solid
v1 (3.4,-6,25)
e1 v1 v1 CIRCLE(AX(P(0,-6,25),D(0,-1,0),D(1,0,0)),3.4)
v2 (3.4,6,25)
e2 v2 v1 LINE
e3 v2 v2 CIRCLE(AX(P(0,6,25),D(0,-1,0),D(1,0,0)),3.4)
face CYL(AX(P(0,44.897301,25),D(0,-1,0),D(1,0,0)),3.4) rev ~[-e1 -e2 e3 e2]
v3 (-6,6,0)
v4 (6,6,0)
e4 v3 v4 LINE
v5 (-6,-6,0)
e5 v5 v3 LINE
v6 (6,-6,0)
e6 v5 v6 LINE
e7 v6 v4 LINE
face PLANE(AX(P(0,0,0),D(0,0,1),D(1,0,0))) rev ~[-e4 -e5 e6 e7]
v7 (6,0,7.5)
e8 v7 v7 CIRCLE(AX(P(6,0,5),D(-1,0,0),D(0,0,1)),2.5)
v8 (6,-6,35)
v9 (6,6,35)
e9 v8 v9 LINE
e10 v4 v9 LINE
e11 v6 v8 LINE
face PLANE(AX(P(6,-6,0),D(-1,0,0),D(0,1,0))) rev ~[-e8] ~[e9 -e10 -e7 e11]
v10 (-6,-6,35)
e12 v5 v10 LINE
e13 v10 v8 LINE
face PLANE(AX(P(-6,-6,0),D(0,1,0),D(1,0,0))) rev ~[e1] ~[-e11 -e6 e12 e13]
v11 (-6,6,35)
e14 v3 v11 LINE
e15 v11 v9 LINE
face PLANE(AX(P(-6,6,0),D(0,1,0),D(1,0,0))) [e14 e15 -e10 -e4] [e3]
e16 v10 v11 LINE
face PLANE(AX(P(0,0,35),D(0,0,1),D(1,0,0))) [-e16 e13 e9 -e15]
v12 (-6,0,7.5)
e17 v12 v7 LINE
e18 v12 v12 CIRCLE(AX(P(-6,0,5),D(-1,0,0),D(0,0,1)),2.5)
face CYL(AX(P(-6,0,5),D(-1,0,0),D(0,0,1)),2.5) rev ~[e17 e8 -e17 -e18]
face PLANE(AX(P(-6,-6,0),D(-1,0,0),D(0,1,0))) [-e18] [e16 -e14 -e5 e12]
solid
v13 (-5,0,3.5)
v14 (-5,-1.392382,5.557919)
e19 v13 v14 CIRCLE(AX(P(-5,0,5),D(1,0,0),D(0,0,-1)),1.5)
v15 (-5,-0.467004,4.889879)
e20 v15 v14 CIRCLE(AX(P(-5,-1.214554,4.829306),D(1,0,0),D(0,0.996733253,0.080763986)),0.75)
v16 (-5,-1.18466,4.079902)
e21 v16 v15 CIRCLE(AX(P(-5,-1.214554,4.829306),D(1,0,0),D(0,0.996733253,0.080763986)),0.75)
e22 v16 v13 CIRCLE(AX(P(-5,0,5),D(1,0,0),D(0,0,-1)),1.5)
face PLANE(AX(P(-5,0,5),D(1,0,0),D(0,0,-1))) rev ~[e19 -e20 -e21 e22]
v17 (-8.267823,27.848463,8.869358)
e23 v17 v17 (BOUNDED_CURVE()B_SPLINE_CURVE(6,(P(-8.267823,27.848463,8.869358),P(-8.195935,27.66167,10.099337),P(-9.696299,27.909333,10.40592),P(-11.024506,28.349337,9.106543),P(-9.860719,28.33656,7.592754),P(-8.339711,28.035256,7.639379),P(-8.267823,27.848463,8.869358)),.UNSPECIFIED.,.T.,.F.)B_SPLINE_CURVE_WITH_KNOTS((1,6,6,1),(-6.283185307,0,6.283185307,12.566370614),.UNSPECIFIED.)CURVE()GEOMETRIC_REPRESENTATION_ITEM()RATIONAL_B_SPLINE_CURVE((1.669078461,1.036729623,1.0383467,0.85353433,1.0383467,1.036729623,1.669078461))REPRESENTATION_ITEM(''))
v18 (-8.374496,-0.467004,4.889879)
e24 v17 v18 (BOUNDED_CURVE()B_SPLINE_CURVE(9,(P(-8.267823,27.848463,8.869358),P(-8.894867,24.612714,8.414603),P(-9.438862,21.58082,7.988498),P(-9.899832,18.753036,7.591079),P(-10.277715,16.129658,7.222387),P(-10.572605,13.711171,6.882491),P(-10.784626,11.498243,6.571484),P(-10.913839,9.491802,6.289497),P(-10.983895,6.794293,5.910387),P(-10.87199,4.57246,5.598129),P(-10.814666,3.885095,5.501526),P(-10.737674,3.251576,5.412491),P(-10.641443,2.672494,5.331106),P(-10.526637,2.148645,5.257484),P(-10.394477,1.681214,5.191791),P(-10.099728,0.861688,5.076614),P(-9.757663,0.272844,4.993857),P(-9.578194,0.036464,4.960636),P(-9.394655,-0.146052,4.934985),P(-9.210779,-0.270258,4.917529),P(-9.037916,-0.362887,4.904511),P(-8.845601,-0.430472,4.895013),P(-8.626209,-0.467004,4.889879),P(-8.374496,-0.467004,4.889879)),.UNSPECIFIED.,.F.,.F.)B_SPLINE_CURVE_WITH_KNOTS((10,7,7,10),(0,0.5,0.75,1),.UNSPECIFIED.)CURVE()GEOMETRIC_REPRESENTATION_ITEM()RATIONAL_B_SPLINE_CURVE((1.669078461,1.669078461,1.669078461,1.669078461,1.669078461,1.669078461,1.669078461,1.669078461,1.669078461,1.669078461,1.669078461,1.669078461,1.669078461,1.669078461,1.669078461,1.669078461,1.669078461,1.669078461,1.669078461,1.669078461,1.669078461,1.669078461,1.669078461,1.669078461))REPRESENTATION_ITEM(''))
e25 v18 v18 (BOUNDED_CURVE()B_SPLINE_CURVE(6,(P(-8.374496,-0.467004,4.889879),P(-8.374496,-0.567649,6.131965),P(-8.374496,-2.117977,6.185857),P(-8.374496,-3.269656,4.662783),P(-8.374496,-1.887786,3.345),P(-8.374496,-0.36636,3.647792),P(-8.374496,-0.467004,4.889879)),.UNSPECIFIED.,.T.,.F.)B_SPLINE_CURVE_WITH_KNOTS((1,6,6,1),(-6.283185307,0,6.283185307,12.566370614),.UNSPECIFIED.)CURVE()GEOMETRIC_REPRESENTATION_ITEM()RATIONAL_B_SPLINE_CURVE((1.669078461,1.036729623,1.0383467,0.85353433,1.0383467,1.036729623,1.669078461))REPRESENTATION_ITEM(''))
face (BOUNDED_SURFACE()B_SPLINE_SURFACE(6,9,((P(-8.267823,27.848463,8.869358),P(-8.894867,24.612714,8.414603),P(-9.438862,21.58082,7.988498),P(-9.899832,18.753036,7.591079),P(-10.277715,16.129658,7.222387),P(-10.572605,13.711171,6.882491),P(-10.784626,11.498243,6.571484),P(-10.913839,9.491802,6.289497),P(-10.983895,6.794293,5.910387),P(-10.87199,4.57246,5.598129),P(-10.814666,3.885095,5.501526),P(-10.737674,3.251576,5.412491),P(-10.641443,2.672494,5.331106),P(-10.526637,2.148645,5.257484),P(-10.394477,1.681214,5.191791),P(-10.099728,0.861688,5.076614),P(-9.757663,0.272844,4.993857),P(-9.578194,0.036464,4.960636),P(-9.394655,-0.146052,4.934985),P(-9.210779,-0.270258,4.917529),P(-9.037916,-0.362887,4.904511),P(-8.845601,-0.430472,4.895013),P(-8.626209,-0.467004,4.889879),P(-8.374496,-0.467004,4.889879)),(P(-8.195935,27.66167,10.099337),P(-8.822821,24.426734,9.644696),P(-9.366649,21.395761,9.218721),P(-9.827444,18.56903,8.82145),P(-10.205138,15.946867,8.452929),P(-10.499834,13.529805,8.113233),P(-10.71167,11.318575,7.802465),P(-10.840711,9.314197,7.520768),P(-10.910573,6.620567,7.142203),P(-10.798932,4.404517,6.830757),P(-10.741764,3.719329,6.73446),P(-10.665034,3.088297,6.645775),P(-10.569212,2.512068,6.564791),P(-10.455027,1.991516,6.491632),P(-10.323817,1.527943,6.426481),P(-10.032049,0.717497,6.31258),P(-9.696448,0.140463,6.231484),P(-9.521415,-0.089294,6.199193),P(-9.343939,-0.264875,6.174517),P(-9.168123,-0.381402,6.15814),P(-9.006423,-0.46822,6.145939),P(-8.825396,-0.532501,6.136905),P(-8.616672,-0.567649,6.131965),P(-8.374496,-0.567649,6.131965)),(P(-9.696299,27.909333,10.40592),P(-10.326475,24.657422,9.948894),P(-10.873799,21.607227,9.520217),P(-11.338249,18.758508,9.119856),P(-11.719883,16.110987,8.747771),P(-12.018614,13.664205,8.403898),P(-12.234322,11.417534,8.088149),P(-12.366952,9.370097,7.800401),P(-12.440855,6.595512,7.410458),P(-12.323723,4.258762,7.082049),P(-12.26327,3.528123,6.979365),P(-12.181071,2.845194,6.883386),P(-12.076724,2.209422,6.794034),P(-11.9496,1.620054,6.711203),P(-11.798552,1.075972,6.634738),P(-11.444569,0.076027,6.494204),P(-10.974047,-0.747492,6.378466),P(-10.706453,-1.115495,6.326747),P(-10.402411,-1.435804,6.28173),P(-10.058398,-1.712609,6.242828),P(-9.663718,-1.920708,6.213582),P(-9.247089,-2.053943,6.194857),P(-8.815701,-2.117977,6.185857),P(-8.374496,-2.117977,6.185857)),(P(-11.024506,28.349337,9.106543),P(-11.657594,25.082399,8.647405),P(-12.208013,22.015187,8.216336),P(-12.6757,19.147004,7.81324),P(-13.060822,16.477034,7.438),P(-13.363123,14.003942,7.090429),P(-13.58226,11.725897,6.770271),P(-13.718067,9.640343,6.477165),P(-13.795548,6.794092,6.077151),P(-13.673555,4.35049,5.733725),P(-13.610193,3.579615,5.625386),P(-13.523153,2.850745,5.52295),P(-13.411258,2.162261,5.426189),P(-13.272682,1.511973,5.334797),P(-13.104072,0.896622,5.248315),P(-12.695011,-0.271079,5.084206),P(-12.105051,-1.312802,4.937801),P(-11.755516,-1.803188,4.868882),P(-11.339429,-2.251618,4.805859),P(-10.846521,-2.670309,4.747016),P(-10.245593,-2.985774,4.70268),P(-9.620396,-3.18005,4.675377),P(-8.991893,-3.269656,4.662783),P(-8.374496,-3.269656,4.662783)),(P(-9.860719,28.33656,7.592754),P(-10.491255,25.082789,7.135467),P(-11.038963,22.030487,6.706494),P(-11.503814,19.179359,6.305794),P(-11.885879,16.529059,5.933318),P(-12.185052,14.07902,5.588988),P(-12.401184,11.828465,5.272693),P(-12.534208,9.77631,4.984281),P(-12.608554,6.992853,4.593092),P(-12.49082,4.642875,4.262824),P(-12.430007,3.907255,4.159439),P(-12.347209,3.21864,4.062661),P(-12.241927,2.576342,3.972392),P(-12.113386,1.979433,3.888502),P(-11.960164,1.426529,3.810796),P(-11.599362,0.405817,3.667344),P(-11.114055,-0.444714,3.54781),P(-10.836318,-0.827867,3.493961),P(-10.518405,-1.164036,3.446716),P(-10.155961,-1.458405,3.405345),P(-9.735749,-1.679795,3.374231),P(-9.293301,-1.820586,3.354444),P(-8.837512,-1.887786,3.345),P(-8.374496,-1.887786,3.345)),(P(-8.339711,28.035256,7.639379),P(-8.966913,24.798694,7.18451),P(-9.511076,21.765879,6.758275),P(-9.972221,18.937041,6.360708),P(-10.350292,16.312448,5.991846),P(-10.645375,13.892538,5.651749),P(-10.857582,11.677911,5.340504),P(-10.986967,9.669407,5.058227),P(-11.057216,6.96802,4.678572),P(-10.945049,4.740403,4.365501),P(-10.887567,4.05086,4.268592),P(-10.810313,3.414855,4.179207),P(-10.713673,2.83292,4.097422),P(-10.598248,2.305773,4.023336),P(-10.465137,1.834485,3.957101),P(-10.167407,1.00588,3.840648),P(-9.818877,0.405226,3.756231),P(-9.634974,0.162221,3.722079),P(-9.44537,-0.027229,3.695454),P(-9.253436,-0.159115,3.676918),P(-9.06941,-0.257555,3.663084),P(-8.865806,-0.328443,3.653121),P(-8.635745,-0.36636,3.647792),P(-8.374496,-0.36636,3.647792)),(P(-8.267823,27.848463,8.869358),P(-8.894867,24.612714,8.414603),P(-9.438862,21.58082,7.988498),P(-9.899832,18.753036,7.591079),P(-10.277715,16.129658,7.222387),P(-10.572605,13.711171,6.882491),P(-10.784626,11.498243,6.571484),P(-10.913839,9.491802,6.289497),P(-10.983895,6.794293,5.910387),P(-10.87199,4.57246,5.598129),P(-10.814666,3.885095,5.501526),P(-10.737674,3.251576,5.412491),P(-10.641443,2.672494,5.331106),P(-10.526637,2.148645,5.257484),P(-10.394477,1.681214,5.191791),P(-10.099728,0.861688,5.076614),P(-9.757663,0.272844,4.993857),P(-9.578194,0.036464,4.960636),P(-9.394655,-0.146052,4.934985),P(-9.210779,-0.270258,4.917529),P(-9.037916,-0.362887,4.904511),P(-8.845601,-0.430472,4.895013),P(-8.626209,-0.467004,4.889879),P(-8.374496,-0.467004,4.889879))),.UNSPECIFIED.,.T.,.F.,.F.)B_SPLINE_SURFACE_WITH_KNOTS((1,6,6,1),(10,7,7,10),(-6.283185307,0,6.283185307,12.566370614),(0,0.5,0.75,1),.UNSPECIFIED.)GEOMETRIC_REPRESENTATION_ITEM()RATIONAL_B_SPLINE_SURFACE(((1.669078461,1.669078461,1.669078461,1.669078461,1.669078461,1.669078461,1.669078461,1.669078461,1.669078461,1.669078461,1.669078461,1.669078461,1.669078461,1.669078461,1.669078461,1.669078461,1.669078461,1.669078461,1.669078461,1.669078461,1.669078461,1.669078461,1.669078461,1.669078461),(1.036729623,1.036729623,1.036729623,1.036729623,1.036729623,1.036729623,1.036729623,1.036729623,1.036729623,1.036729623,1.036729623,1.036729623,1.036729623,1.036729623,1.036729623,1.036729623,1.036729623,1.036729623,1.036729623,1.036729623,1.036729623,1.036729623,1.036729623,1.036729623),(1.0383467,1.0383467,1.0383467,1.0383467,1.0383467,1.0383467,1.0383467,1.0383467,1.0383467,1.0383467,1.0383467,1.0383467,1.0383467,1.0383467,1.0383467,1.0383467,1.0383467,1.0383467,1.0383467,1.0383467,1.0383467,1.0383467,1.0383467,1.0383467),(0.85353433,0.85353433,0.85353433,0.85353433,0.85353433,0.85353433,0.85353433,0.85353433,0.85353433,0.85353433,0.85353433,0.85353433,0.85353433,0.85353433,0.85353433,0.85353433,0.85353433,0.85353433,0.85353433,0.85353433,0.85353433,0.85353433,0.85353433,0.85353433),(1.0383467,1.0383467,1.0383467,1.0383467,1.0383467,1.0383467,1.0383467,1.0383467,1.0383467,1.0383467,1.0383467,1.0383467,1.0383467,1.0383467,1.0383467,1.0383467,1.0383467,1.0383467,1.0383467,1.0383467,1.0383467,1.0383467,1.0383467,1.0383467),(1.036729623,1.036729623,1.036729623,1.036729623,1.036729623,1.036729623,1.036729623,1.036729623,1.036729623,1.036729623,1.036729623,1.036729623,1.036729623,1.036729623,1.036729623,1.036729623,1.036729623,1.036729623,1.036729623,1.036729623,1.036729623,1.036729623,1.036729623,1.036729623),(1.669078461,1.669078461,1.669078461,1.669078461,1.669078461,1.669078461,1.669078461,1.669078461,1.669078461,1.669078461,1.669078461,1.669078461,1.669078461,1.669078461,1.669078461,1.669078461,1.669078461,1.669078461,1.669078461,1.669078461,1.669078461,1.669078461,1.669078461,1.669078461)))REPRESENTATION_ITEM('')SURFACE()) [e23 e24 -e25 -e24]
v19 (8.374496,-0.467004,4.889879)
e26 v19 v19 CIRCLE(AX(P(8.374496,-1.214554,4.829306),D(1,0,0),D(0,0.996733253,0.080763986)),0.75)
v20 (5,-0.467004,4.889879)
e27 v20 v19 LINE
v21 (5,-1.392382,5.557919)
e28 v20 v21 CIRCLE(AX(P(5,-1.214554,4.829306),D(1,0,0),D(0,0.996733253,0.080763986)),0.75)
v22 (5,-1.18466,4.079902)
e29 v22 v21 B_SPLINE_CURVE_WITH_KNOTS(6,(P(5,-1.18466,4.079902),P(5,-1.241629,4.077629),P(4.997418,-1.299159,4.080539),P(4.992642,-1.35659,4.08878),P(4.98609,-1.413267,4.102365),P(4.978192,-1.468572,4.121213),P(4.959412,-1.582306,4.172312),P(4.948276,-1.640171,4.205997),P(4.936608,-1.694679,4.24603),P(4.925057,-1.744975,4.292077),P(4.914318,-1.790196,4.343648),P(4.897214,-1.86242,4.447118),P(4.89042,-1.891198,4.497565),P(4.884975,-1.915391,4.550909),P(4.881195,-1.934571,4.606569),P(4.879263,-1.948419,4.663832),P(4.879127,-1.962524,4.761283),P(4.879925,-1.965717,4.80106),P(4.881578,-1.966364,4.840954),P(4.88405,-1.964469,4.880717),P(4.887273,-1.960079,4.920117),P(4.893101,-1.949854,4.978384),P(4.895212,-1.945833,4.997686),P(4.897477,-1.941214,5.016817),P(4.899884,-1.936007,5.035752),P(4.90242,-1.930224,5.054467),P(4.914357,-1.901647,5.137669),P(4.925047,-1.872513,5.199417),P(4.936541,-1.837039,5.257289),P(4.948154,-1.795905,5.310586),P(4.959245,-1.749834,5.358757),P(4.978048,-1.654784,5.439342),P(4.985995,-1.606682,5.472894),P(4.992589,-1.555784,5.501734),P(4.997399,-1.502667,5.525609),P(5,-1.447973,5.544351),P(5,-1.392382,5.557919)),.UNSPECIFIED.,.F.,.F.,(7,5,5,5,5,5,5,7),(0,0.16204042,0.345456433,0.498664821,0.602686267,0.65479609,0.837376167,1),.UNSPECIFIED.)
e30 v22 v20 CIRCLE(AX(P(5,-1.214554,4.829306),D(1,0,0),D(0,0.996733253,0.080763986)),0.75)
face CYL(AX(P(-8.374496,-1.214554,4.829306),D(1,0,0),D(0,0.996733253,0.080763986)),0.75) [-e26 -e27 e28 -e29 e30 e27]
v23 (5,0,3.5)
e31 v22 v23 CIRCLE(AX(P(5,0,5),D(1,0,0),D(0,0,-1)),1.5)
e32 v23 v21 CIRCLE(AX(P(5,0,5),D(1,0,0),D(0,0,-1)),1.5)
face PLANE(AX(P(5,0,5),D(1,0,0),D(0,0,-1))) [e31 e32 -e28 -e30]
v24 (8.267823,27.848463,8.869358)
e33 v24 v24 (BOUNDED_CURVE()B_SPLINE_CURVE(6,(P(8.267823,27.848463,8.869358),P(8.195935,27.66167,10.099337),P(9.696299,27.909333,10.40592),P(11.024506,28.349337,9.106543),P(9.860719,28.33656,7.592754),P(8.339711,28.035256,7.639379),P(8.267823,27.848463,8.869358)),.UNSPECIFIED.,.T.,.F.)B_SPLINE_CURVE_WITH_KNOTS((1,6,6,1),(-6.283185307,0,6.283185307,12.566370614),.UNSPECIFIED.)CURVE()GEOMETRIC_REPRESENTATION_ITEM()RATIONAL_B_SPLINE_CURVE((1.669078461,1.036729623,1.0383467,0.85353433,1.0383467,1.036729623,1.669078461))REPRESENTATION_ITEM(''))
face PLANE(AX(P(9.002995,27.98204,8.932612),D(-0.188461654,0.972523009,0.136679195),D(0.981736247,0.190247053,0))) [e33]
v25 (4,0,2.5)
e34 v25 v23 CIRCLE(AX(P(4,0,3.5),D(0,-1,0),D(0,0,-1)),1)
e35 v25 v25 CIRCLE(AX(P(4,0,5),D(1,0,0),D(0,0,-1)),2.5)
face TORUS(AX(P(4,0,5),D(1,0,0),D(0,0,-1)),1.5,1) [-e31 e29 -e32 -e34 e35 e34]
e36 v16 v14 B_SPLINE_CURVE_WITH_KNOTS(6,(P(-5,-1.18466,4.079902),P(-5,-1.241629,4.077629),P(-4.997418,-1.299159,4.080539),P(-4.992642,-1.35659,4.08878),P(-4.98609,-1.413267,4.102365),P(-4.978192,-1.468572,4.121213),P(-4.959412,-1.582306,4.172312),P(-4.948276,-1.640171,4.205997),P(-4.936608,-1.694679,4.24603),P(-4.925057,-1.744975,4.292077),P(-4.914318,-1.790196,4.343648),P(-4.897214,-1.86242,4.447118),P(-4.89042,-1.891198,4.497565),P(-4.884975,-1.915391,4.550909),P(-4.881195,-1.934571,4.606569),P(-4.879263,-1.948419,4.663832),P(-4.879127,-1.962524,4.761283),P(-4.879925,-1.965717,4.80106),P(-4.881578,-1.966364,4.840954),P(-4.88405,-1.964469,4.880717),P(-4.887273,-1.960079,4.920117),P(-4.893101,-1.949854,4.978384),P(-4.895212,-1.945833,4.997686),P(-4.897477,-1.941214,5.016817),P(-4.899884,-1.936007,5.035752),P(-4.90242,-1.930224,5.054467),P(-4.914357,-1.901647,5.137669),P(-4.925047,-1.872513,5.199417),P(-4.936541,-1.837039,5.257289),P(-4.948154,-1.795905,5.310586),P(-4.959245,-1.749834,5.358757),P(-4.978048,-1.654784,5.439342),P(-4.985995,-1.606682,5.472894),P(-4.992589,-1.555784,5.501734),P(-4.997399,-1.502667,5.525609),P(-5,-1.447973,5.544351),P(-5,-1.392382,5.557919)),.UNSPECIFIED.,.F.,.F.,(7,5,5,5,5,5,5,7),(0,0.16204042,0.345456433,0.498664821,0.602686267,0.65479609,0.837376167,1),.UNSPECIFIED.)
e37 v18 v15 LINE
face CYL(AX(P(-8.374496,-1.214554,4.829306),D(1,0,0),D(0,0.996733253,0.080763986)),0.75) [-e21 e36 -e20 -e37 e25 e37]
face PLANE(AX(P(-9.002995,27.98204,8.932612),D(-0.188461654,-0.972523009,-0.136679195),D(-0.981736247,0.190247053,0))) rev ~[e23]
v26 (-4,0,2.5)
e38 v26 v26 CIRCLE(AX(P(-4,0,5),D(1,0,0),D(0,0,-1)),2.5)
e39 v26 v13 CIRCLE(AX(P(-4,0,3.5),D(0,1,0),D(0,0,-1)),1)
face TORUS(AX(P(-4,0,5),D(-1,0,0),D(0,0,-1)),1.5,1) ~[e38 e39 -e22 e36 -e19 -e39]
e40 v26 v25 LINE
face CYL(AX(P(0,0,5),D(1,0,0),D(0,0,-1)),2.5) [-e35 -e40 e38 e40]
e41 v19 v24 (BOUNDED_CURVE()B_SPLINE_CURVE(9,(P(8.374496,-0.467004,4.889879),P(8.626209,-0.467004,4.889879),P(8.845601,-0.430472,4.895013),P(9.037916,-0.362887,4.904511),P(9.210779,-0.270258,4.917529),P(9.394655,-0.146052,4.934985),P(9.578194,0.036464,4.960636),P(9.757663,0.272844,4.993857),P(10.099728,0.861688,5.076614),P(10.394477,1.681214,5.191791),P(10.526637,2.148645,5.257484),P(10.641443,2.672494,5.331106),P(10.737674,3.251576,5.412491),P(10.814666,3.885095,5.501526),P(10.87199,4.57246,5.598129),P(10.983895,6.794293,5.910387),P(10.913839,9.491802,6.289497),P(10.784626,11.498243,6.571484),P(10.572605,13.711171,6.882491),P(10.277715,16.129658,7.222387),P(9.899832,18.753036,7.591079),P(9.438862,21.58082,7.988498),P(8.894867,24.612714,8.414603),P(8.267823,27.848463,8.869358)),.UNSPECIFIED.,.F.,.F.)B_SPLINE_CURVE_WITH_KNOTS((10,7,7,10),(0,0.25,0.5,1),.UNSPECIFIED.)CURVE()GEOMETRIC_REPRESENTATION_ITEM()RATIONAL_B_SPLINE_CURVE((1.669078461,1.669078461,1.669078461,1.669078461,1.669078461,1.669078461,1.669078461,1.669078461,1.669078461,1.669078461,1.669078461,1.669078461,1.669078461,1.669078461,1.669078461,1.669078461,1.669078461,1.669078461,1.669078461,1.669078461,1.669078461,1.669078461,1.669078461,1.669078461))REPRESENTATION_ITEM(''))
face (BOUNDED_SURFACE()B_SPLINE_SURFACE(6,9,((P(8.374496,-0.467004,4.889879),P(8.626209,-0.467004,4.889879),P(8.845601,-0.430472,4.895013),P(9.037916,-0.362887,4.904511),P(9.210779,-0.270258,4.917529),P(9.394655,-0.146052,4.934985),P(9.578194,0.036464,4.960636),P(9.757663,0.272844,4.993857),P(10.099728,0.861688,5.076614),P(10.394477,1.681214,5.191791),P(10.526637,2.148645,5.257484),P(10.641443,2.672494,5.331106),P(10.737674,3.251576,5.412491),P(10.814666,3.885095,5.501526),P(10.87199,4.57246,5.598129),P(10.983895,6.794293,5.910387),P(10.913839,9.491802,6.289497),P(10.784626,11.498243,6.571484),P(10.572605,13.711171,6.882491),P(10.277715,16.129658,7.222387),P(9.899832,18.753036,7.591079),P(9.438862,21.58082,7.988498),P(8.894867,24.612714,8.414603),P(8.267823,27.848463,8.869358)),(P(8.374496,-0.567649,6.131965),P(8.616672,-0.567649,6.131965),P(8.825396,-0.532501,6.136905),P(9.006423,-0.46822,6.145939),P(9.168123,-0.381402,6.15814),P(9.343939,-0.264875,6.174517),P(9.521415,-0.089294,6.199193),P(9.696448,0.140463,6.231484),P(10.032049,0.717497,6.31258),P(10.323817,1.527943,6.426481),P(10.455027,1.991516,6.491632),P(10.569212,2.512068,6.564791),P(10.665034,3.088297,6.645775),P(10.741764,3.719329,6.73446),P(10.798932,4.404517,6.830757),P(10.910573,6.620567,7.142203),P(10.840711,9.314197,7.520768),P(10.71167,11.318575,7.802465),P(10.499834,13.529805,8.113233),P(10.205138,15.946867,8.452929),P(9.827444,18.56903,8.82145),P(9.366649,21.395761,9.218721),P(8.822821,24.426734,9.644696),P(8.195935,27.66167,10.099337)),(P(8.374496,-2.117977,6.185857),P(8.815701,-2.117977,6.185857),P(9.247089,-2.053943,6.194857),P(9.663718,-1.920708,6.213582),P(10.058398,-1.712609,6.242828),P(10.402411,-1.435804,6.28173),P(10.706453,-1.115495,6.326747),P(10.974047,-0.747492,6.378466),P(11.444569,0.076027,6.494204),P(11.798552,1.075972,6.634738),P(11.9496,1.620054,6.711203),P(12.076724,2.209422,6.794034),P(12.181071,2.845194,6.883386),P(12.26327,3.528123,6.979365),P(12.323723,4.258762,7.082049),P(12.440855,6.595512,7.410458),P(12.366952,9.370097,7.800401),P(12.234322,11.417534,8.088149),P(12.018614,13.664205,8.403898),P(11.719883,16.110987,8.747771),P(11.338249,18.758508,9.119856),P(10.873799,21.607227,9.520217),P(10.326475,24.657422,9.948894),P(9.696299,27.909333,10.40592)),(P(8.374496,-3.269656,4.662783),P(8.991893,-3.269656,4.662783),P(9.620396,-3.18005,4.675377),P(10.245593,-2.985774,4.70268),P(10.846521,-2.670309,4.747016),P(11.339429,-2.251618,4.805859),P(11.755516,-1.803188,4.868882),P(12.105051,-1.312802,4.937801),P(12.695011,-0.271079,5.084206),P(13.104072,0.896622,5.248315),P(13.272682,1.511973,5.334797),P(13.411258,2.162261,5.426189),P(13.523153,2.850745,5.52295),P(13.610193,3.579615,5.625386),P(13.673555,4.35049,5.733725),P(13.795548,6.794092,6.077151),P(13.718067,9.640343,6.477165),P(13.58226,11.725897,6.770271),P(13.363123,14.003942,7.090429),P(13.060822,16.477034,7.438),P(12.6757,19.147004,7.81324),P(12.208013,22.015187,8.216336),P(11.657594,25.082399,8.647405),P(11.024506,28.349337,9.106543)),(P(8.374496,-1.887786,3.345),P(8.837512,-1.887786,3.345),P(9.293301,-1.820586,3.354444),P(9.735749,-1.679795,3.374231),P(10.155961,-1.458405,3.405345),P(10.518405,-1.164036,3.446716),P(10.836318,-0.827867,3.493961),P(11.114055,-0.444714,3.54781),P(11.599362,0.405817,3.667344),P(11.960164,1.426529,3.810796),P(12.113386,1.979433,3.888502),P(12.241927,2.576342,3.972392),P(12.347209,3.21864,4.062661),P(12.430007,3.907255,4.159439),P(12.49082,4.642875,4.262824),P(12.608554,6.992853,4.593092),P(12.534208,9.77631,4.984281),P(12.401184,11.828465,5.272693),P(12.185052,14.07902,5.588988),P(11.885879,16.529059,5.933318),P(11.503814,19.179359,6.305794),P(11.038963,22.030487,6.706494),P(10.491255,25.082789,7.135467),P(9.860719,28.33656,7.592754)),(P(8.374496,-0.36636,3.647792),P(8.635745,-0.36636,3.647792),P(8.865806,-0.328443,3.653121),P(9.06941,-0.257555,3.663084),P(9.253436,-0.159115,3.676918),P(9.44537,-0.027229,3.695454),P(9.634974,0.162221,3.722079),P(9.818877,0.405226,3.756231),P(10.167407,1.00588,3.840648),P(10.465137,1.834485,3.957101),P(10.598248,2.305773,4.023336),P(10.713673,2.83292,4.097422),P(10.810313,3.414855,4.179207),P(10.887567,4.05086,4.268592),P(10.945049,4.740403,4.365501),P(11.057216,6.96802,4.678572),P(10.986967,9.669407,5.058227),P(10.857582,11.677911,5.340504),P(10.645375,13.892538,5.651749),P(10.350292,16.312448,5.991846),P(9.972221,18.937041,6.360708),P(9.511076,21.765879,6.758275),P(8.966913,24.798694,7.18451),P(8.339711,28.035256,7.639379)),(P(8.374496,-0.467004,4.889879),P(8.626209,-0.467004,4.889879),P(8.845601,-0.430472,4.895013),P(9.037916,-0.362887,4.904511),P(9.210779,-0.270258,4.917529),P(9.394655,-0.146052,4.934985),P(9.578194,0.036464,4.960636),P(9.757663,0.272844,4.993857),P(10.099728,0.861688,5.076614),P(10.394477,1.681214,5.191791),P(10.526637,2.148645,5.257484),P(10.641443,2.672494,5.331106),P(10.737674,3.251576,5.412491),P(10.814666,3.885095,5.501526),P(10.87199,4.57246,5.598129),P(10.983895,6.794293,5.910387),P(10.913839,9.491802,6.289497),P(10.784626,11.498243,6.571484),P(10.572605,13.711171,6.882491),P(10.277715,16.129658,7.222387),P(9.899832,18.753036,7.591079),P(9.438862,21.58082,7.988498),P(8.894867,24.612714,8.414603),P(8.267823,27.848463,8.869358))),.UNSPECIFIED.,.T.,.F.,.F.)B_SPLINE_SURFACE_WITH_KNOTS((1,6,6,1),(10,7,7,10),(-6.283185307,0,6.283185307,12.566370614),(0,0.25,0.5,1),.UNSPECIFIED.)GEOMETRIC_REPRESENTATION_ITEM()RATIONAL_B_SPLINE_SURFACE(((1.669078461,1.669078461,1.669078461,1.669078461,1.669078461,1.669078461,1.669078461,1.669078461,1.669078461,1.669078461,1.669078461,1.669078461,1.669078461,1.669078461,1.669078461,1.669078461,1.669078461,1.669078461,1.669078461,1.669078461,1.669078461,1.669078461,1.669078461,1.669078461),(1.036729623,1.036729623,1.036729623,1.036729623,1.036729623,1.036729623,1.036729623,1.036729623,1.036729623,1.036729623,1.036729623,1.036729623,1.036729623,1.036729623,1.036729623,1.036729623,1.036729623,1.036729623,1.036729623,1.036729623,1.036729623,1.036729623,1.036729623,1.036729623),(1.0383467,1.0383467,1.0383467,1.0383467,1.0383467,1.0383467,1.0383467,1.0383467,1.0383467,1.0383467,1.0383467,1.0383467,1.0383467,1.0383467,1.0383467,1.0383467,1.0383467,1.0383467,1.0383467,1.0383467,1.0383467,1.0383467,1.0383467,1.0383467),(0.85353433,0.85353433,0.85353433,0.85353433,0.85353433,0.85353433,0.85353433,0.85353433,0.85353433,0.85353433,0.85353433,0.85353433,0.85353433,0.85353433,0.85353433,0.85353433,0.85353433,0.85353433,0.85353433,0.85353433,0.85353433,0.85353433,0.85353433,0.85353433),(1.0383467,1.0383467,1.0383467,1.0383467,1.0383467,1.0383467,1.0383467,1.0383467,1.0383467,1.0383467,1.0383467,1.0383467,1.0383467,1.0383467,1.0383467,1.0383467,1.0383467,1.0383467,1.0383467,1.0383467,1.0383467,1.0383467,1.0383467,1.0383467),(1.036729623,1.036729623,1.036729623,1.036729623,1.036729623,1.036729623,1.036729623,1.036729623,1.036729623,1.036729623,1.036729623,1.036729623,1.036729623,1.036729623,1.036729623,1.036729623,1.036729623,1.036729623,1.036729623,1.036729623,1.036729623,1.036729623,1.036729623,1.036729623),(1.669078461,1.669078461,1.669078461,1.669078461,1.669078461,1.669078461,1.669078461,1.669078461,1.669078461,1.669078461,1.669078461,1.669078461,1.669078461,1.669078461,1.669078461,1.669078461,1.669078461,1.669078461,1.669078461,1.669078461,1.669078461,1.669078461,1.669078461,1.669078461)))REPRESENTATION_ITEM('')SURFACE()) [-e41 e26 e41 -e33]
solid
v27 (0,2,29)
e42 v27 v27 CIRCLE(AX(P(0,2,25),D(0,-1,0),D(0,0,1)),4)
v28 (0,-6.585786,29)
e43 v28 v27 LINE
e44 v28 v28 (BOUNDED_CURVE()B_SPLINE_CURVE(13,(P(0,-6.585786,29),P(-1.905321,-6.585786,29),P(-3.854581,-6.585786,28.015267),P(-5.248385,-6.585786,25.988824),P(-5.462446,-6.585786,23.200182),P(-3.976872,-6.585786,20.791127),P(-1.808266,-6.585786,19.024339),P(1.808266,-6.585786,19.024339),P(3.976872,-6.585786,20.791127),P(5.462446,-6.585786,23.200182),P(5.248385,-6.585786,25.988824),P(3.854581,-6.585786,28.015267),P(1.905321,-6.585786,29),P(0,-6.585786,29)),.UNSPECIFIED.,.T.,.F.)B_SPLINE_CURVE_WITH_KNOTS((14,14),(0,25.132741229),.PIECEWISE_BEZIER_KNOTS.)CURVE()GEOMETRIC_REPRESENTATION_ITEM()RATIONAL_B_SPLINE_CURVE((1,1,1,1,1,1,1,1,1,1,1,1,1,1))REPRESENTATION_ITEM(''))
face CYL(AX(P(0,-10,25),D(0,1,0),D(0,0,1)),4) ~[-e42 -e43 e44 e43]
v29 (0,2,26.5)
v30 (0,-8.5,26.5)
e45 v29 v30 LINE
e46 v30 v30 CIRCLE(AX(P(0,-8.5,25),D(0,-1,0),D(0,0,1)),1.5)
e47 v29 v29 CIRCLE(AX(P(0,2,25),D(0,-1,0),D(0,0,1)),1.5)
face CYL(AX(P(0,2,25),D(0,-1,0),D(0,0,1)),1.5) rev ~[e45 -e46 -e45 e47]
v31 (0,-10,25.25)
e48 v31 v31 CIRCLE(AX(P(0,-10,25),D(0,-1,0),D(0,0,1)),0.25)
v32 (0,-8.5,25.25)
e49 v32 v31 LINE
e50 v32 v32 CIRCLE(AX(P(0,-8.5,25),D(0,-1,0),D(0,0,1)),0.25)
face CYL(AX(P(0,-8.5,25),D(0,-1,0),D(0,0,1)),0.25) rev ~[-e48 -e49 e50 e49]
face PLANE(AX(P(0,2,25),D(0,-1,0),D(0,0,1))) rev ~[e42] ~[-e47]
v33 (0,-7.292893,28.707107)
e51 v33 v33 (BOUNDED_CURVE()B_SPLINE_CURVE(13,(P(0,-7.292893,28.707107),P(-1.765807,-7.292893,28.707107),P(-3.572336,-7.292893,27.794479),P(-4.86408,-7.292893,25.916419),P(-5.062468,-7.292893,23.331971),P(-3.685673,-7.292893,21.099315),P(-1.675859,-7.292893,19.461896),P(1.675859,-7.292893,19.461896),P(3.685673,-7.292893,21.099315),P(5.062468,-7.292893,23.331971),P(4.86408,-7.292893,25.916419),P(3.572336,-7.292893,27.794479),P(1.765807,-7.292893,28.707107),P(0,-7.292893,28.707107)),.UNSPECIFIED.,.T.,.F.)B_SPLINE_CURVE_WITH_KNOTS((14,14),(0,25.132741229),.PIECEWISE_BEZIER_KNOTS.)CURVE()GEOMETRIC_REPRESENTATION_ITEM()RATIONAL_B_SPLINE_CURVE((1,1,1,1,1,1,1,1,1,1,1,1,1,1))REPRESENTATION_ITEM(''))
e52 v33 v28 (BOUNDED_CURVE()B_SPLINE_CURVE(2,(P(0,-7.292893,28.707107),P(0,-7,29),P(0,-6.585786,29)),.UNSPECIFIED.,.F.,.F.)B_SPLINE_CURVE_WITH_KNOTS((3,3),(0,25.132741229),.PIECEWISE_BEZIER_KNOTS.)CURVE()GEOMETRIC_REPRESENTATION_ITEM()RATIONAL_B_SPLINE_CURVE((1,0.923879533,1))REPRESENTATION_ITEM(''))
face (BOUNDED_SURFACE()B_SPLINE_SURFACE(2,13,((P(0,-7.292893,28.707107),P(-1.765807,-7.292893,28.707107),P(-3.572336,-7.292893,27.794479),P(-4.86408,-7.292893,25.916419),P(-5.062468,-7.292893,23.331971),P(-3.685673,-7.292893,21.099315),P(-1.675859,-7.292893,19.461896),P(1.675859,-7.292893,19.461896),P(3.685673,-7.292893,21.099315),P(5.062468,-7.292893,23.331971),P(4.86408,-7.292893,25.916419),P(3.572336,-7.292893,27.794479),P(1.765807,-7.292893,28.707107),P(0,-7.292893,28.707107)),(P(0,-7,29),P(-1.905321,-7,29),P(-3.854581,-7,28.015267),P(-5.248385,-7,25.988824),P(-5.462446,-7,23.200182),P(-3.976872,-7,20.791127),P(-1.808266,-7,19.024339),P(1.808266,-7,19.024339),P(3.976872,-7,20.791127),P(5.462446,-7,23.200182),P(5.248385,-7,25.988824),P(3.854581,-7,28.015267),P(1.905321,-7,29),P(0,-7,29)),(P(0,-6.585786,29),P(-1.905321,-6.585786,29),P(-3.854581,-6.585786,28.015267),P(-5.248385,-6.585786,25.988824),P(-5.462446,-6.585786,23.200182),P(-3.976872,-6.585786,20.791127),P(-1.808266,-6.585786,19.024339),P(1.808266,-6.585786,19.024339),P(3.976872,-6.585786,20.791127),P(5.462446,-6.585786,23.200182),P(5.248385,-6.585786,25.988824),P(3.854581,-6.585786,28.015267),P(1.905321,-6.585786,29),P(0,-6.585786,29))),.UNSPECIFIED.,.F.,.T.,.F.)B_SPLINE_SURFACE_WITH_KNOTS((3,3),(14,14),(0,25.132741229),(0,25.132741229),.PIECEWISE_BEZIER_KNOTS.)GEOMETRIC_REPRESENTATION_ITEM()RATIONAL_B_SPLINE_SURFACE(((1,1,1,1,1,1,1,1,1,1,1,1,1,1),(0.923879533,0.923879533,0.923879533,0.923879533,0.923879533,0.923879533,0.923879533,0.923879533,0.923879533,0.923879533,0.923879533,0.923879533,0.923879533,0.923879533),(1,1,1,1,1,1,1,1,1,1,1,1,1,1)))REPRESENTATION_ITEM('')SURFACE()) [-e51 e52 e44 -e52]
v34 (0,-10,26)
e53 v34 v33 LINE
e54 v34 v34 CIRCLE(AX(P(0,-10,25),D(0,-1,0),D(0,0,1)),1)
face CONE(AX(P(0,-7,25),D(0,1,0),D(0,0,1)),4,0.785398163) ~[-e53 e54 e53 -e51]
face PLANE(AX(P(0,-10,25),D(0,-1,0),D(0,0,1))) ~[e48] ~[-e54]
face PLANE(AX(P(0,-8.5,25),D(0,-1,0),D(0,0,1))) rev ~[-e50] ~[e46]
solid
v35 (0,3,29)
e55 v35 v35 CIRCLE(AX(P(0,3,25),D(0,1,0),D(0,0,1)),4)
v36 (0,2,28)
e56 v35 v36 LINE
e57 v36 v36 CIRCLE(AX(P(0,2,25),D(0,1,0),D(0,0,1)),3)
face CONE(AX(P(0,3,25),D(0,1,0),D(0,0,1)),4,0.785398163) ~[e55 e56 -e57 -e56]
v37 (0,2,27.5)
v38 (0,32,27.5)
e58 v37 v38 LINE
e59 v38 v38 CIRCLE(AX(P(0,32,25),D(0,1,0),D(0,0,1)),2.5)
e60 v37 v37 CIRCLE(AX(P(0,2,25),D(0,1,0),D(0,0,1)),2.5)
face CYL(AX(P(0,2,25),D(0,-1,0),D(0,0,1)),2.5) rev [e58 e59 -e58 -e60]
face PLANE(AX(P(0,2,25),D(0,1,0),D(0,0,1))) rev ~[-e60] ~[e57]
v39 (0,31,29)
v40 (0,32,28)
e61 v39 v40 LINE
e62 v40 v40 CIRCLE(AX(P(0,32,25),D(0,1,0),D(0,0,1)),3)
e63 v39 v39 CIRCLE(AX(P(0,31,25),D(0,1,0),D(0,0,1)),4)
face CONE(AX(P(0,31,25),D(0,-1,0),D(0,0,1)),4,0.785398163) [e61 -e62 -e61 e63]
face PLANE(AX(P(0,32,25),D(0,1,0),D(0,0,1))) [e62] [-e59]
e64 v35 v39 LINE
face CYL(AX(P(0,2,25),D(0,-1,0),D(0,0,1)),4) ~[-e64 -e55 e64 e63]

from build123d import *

# Parameters (mm, degrees)
SKIZZE1_W                       = 12
SKIZZE1_H                       = 12
AUFSATZ_LINEAR_AUSTRAGEN1_DEPTH = 35
SKIZZE2_R                       = 2.5
SCHNITT_LINEAR_AUSTRAGEN1_DEPTH = 35
M8_GEWINDEBOHRUNG1_D            = 6.8
FASE1_SIZE                      = 3
VERRUNDUNG2_R                   = 1
SKIZZE8_R                       = 4
SKIZZE8_R_2                     = 2.5
AUFSATZ_LINEAR_AUSTRAGEN2_DEPTH = 30
FASE2_SIZE                      = 1
SKIZZE9_R                       = 2.5
AUFSATZ_LINEAR_AUSTRAGEN3_DEPTH = 5
VERRUNDUNG3_R                   = 1
SKIZZE11_R                      = 0.75


with BuildPart() as part:
    # Skizze1 → Aufsatz-Linear austragen1 (new body)
    with BuildSketch(Plane.XY):
        Rectangle(SKIZZE1_W, SKIZZE1_H)
    extrude(amount=AUFSATZ_LINEAR_AUSTRAGEN1_DEPTH)

    # Skizze2 → Schnitt-Linear austragen1 (cut)
    with BuildSketch(Plane.ZY.offset(6)):
        with Locations((5, 0)):
            Circle(SKIZZE2_R)
    extrude(amount=-SCHNITT_LINEAR_AUSTRAGEN1_DEPTH, mode=Mode.SUBTRACT)

    # M8 Gewindebohrung1 (through all)
    with Locations(Plane(origin=(0, 6, 0), x_dir=(-1, 0, 0), z_dir=(0, 1, 0))):
        with Locations((0, 25)):
            Hole(M8_GEWINDEBOHRUNG1_D / 2)


with BuildPart() as body_2:
    # Skizze7 → Rotation1 (revolve)
    with BuildSketch(Plane(origin=(0, 0, 0), x_dir=(0, 0, -1), z_dir=(1, 0, 0))):
        Polygon((-29, 2), (-26.5, 2), (-26.5, -8.5), (-25.25, -8.5), (-25.25, -10), (-29, -10), align=None)
    revolve(axis=Axis((0, 2, 25), (0, -1, 0)))

    # Fase1
    fase1_edges = [body_2.edges().sort_by_distance(p)[0] for p in [
        (0, -10, 21),
    ]]
    chamfer(fase1_edges, length=FASE1_SIZE)

    # Verrundung2
    verrundung2_edges = [body_2.edges().sort_by_distance(p)[0] for p in [
        (0, -7, 21),
    ]]
    fillet(verrundung2_edges, radius=VERRUNDUNG2_R)


with BuildPart() as body_3:
    # Skizze8 → Aufsatz-Linear austragen2 (new body)
    with BuildSketch(Plane(origin=(0, 2, 0), x_dir=(1, 0, 0), z_dir=(0, 1, 0))):
        with Locations((0, -25)):
            Circle(SKIZZE8_R)
        with Locations((0, -25)):
            Circle(SKIZZE8_R_2, mode=Mode.SUBTRACT)
    extrude(amount=AUFSATZ_LINEAR_AUSTRAGEN2_DEPTH)

    # Fase2
    fase2_edges = [body_3.edges().sort_by_distance(p)[0] for p in [
        (-4, 2, 25),
        (-4, 32, 25),
    ]]
    chamfer(fase2_edges, length=FASE2_SIZE)


with BuildPart() as body_4:
    # Skizze9 → Aufsatz-Linear austragen3 (new, symmetric)
    with BuildSketch(Plane(origin=(0, 0, 0), x_dir=(0, 0, -1), z_dir=(1, 0, 0))):
        with Locations((-5, 0)):
            Circle(SKIZZE9_R)
    extrude(amount=AUFSATZ_LINEAR_AUSTRAGEN3_DEPTH, both=True)

    # Verrundung3
    verrundung3_edges = [body_4.edges().sort_by_distance(p)[0] for p in [
        (5, 0, 7.5),
        (-5, 0, 7.5),
    ]]
    fillet(verrundung3_edges, radius=VERRUNDUNG3_R)

    # Austragung1: sweep along a path in Skizze10
    with BuildLine() as austragung1_path:  # in the path sketch's own coordinates; laid on its plane below (add() does not lay a ready-made edge on the line's plane)
        add(Edge.make_bspline(
            [(9.0031118, 28.952922174), (14.661016366, -0.530624786), (8.3744964, -0.530624786)],
            knots=[0, 0, 0, 1, 1, 1], degree=2))
        Line((8.3744964, -0.530624786), (-8.3744964, -0.530624786))
        add(Edge.make_bspline(
            [(-8.3744964, -0.530624786), (-14.661016366, -0.530624786), (-9.0031118, 28.952922174)],
            knots=[0, 0, 0, 1, 1, 1], degree=2))
    # Skizze11 → Austragung1 (sweep)
    with BuildSketch(Plane(origin=(9.0031118, 27.982060936, 8.932622201), x_dir=(-0.980384779209946, -0.17813021392733064, -0.08435230630912684), z_dir=(-0.1884616539074955, 0.9725230087492234, 0.13667919541689408))):
        Circle(SKIZZE11_R)
    sweep(path=Plane(origin=(0, -0.68909339, 4.90315424), x_dir=(-1, 0, 0), z_dir=(0, 0.1391731009600624, -0.9902680687415708)) * austragung1_path.line)


solid = Compound([part.part, body_2.part, body_3.part, body_4.part])
